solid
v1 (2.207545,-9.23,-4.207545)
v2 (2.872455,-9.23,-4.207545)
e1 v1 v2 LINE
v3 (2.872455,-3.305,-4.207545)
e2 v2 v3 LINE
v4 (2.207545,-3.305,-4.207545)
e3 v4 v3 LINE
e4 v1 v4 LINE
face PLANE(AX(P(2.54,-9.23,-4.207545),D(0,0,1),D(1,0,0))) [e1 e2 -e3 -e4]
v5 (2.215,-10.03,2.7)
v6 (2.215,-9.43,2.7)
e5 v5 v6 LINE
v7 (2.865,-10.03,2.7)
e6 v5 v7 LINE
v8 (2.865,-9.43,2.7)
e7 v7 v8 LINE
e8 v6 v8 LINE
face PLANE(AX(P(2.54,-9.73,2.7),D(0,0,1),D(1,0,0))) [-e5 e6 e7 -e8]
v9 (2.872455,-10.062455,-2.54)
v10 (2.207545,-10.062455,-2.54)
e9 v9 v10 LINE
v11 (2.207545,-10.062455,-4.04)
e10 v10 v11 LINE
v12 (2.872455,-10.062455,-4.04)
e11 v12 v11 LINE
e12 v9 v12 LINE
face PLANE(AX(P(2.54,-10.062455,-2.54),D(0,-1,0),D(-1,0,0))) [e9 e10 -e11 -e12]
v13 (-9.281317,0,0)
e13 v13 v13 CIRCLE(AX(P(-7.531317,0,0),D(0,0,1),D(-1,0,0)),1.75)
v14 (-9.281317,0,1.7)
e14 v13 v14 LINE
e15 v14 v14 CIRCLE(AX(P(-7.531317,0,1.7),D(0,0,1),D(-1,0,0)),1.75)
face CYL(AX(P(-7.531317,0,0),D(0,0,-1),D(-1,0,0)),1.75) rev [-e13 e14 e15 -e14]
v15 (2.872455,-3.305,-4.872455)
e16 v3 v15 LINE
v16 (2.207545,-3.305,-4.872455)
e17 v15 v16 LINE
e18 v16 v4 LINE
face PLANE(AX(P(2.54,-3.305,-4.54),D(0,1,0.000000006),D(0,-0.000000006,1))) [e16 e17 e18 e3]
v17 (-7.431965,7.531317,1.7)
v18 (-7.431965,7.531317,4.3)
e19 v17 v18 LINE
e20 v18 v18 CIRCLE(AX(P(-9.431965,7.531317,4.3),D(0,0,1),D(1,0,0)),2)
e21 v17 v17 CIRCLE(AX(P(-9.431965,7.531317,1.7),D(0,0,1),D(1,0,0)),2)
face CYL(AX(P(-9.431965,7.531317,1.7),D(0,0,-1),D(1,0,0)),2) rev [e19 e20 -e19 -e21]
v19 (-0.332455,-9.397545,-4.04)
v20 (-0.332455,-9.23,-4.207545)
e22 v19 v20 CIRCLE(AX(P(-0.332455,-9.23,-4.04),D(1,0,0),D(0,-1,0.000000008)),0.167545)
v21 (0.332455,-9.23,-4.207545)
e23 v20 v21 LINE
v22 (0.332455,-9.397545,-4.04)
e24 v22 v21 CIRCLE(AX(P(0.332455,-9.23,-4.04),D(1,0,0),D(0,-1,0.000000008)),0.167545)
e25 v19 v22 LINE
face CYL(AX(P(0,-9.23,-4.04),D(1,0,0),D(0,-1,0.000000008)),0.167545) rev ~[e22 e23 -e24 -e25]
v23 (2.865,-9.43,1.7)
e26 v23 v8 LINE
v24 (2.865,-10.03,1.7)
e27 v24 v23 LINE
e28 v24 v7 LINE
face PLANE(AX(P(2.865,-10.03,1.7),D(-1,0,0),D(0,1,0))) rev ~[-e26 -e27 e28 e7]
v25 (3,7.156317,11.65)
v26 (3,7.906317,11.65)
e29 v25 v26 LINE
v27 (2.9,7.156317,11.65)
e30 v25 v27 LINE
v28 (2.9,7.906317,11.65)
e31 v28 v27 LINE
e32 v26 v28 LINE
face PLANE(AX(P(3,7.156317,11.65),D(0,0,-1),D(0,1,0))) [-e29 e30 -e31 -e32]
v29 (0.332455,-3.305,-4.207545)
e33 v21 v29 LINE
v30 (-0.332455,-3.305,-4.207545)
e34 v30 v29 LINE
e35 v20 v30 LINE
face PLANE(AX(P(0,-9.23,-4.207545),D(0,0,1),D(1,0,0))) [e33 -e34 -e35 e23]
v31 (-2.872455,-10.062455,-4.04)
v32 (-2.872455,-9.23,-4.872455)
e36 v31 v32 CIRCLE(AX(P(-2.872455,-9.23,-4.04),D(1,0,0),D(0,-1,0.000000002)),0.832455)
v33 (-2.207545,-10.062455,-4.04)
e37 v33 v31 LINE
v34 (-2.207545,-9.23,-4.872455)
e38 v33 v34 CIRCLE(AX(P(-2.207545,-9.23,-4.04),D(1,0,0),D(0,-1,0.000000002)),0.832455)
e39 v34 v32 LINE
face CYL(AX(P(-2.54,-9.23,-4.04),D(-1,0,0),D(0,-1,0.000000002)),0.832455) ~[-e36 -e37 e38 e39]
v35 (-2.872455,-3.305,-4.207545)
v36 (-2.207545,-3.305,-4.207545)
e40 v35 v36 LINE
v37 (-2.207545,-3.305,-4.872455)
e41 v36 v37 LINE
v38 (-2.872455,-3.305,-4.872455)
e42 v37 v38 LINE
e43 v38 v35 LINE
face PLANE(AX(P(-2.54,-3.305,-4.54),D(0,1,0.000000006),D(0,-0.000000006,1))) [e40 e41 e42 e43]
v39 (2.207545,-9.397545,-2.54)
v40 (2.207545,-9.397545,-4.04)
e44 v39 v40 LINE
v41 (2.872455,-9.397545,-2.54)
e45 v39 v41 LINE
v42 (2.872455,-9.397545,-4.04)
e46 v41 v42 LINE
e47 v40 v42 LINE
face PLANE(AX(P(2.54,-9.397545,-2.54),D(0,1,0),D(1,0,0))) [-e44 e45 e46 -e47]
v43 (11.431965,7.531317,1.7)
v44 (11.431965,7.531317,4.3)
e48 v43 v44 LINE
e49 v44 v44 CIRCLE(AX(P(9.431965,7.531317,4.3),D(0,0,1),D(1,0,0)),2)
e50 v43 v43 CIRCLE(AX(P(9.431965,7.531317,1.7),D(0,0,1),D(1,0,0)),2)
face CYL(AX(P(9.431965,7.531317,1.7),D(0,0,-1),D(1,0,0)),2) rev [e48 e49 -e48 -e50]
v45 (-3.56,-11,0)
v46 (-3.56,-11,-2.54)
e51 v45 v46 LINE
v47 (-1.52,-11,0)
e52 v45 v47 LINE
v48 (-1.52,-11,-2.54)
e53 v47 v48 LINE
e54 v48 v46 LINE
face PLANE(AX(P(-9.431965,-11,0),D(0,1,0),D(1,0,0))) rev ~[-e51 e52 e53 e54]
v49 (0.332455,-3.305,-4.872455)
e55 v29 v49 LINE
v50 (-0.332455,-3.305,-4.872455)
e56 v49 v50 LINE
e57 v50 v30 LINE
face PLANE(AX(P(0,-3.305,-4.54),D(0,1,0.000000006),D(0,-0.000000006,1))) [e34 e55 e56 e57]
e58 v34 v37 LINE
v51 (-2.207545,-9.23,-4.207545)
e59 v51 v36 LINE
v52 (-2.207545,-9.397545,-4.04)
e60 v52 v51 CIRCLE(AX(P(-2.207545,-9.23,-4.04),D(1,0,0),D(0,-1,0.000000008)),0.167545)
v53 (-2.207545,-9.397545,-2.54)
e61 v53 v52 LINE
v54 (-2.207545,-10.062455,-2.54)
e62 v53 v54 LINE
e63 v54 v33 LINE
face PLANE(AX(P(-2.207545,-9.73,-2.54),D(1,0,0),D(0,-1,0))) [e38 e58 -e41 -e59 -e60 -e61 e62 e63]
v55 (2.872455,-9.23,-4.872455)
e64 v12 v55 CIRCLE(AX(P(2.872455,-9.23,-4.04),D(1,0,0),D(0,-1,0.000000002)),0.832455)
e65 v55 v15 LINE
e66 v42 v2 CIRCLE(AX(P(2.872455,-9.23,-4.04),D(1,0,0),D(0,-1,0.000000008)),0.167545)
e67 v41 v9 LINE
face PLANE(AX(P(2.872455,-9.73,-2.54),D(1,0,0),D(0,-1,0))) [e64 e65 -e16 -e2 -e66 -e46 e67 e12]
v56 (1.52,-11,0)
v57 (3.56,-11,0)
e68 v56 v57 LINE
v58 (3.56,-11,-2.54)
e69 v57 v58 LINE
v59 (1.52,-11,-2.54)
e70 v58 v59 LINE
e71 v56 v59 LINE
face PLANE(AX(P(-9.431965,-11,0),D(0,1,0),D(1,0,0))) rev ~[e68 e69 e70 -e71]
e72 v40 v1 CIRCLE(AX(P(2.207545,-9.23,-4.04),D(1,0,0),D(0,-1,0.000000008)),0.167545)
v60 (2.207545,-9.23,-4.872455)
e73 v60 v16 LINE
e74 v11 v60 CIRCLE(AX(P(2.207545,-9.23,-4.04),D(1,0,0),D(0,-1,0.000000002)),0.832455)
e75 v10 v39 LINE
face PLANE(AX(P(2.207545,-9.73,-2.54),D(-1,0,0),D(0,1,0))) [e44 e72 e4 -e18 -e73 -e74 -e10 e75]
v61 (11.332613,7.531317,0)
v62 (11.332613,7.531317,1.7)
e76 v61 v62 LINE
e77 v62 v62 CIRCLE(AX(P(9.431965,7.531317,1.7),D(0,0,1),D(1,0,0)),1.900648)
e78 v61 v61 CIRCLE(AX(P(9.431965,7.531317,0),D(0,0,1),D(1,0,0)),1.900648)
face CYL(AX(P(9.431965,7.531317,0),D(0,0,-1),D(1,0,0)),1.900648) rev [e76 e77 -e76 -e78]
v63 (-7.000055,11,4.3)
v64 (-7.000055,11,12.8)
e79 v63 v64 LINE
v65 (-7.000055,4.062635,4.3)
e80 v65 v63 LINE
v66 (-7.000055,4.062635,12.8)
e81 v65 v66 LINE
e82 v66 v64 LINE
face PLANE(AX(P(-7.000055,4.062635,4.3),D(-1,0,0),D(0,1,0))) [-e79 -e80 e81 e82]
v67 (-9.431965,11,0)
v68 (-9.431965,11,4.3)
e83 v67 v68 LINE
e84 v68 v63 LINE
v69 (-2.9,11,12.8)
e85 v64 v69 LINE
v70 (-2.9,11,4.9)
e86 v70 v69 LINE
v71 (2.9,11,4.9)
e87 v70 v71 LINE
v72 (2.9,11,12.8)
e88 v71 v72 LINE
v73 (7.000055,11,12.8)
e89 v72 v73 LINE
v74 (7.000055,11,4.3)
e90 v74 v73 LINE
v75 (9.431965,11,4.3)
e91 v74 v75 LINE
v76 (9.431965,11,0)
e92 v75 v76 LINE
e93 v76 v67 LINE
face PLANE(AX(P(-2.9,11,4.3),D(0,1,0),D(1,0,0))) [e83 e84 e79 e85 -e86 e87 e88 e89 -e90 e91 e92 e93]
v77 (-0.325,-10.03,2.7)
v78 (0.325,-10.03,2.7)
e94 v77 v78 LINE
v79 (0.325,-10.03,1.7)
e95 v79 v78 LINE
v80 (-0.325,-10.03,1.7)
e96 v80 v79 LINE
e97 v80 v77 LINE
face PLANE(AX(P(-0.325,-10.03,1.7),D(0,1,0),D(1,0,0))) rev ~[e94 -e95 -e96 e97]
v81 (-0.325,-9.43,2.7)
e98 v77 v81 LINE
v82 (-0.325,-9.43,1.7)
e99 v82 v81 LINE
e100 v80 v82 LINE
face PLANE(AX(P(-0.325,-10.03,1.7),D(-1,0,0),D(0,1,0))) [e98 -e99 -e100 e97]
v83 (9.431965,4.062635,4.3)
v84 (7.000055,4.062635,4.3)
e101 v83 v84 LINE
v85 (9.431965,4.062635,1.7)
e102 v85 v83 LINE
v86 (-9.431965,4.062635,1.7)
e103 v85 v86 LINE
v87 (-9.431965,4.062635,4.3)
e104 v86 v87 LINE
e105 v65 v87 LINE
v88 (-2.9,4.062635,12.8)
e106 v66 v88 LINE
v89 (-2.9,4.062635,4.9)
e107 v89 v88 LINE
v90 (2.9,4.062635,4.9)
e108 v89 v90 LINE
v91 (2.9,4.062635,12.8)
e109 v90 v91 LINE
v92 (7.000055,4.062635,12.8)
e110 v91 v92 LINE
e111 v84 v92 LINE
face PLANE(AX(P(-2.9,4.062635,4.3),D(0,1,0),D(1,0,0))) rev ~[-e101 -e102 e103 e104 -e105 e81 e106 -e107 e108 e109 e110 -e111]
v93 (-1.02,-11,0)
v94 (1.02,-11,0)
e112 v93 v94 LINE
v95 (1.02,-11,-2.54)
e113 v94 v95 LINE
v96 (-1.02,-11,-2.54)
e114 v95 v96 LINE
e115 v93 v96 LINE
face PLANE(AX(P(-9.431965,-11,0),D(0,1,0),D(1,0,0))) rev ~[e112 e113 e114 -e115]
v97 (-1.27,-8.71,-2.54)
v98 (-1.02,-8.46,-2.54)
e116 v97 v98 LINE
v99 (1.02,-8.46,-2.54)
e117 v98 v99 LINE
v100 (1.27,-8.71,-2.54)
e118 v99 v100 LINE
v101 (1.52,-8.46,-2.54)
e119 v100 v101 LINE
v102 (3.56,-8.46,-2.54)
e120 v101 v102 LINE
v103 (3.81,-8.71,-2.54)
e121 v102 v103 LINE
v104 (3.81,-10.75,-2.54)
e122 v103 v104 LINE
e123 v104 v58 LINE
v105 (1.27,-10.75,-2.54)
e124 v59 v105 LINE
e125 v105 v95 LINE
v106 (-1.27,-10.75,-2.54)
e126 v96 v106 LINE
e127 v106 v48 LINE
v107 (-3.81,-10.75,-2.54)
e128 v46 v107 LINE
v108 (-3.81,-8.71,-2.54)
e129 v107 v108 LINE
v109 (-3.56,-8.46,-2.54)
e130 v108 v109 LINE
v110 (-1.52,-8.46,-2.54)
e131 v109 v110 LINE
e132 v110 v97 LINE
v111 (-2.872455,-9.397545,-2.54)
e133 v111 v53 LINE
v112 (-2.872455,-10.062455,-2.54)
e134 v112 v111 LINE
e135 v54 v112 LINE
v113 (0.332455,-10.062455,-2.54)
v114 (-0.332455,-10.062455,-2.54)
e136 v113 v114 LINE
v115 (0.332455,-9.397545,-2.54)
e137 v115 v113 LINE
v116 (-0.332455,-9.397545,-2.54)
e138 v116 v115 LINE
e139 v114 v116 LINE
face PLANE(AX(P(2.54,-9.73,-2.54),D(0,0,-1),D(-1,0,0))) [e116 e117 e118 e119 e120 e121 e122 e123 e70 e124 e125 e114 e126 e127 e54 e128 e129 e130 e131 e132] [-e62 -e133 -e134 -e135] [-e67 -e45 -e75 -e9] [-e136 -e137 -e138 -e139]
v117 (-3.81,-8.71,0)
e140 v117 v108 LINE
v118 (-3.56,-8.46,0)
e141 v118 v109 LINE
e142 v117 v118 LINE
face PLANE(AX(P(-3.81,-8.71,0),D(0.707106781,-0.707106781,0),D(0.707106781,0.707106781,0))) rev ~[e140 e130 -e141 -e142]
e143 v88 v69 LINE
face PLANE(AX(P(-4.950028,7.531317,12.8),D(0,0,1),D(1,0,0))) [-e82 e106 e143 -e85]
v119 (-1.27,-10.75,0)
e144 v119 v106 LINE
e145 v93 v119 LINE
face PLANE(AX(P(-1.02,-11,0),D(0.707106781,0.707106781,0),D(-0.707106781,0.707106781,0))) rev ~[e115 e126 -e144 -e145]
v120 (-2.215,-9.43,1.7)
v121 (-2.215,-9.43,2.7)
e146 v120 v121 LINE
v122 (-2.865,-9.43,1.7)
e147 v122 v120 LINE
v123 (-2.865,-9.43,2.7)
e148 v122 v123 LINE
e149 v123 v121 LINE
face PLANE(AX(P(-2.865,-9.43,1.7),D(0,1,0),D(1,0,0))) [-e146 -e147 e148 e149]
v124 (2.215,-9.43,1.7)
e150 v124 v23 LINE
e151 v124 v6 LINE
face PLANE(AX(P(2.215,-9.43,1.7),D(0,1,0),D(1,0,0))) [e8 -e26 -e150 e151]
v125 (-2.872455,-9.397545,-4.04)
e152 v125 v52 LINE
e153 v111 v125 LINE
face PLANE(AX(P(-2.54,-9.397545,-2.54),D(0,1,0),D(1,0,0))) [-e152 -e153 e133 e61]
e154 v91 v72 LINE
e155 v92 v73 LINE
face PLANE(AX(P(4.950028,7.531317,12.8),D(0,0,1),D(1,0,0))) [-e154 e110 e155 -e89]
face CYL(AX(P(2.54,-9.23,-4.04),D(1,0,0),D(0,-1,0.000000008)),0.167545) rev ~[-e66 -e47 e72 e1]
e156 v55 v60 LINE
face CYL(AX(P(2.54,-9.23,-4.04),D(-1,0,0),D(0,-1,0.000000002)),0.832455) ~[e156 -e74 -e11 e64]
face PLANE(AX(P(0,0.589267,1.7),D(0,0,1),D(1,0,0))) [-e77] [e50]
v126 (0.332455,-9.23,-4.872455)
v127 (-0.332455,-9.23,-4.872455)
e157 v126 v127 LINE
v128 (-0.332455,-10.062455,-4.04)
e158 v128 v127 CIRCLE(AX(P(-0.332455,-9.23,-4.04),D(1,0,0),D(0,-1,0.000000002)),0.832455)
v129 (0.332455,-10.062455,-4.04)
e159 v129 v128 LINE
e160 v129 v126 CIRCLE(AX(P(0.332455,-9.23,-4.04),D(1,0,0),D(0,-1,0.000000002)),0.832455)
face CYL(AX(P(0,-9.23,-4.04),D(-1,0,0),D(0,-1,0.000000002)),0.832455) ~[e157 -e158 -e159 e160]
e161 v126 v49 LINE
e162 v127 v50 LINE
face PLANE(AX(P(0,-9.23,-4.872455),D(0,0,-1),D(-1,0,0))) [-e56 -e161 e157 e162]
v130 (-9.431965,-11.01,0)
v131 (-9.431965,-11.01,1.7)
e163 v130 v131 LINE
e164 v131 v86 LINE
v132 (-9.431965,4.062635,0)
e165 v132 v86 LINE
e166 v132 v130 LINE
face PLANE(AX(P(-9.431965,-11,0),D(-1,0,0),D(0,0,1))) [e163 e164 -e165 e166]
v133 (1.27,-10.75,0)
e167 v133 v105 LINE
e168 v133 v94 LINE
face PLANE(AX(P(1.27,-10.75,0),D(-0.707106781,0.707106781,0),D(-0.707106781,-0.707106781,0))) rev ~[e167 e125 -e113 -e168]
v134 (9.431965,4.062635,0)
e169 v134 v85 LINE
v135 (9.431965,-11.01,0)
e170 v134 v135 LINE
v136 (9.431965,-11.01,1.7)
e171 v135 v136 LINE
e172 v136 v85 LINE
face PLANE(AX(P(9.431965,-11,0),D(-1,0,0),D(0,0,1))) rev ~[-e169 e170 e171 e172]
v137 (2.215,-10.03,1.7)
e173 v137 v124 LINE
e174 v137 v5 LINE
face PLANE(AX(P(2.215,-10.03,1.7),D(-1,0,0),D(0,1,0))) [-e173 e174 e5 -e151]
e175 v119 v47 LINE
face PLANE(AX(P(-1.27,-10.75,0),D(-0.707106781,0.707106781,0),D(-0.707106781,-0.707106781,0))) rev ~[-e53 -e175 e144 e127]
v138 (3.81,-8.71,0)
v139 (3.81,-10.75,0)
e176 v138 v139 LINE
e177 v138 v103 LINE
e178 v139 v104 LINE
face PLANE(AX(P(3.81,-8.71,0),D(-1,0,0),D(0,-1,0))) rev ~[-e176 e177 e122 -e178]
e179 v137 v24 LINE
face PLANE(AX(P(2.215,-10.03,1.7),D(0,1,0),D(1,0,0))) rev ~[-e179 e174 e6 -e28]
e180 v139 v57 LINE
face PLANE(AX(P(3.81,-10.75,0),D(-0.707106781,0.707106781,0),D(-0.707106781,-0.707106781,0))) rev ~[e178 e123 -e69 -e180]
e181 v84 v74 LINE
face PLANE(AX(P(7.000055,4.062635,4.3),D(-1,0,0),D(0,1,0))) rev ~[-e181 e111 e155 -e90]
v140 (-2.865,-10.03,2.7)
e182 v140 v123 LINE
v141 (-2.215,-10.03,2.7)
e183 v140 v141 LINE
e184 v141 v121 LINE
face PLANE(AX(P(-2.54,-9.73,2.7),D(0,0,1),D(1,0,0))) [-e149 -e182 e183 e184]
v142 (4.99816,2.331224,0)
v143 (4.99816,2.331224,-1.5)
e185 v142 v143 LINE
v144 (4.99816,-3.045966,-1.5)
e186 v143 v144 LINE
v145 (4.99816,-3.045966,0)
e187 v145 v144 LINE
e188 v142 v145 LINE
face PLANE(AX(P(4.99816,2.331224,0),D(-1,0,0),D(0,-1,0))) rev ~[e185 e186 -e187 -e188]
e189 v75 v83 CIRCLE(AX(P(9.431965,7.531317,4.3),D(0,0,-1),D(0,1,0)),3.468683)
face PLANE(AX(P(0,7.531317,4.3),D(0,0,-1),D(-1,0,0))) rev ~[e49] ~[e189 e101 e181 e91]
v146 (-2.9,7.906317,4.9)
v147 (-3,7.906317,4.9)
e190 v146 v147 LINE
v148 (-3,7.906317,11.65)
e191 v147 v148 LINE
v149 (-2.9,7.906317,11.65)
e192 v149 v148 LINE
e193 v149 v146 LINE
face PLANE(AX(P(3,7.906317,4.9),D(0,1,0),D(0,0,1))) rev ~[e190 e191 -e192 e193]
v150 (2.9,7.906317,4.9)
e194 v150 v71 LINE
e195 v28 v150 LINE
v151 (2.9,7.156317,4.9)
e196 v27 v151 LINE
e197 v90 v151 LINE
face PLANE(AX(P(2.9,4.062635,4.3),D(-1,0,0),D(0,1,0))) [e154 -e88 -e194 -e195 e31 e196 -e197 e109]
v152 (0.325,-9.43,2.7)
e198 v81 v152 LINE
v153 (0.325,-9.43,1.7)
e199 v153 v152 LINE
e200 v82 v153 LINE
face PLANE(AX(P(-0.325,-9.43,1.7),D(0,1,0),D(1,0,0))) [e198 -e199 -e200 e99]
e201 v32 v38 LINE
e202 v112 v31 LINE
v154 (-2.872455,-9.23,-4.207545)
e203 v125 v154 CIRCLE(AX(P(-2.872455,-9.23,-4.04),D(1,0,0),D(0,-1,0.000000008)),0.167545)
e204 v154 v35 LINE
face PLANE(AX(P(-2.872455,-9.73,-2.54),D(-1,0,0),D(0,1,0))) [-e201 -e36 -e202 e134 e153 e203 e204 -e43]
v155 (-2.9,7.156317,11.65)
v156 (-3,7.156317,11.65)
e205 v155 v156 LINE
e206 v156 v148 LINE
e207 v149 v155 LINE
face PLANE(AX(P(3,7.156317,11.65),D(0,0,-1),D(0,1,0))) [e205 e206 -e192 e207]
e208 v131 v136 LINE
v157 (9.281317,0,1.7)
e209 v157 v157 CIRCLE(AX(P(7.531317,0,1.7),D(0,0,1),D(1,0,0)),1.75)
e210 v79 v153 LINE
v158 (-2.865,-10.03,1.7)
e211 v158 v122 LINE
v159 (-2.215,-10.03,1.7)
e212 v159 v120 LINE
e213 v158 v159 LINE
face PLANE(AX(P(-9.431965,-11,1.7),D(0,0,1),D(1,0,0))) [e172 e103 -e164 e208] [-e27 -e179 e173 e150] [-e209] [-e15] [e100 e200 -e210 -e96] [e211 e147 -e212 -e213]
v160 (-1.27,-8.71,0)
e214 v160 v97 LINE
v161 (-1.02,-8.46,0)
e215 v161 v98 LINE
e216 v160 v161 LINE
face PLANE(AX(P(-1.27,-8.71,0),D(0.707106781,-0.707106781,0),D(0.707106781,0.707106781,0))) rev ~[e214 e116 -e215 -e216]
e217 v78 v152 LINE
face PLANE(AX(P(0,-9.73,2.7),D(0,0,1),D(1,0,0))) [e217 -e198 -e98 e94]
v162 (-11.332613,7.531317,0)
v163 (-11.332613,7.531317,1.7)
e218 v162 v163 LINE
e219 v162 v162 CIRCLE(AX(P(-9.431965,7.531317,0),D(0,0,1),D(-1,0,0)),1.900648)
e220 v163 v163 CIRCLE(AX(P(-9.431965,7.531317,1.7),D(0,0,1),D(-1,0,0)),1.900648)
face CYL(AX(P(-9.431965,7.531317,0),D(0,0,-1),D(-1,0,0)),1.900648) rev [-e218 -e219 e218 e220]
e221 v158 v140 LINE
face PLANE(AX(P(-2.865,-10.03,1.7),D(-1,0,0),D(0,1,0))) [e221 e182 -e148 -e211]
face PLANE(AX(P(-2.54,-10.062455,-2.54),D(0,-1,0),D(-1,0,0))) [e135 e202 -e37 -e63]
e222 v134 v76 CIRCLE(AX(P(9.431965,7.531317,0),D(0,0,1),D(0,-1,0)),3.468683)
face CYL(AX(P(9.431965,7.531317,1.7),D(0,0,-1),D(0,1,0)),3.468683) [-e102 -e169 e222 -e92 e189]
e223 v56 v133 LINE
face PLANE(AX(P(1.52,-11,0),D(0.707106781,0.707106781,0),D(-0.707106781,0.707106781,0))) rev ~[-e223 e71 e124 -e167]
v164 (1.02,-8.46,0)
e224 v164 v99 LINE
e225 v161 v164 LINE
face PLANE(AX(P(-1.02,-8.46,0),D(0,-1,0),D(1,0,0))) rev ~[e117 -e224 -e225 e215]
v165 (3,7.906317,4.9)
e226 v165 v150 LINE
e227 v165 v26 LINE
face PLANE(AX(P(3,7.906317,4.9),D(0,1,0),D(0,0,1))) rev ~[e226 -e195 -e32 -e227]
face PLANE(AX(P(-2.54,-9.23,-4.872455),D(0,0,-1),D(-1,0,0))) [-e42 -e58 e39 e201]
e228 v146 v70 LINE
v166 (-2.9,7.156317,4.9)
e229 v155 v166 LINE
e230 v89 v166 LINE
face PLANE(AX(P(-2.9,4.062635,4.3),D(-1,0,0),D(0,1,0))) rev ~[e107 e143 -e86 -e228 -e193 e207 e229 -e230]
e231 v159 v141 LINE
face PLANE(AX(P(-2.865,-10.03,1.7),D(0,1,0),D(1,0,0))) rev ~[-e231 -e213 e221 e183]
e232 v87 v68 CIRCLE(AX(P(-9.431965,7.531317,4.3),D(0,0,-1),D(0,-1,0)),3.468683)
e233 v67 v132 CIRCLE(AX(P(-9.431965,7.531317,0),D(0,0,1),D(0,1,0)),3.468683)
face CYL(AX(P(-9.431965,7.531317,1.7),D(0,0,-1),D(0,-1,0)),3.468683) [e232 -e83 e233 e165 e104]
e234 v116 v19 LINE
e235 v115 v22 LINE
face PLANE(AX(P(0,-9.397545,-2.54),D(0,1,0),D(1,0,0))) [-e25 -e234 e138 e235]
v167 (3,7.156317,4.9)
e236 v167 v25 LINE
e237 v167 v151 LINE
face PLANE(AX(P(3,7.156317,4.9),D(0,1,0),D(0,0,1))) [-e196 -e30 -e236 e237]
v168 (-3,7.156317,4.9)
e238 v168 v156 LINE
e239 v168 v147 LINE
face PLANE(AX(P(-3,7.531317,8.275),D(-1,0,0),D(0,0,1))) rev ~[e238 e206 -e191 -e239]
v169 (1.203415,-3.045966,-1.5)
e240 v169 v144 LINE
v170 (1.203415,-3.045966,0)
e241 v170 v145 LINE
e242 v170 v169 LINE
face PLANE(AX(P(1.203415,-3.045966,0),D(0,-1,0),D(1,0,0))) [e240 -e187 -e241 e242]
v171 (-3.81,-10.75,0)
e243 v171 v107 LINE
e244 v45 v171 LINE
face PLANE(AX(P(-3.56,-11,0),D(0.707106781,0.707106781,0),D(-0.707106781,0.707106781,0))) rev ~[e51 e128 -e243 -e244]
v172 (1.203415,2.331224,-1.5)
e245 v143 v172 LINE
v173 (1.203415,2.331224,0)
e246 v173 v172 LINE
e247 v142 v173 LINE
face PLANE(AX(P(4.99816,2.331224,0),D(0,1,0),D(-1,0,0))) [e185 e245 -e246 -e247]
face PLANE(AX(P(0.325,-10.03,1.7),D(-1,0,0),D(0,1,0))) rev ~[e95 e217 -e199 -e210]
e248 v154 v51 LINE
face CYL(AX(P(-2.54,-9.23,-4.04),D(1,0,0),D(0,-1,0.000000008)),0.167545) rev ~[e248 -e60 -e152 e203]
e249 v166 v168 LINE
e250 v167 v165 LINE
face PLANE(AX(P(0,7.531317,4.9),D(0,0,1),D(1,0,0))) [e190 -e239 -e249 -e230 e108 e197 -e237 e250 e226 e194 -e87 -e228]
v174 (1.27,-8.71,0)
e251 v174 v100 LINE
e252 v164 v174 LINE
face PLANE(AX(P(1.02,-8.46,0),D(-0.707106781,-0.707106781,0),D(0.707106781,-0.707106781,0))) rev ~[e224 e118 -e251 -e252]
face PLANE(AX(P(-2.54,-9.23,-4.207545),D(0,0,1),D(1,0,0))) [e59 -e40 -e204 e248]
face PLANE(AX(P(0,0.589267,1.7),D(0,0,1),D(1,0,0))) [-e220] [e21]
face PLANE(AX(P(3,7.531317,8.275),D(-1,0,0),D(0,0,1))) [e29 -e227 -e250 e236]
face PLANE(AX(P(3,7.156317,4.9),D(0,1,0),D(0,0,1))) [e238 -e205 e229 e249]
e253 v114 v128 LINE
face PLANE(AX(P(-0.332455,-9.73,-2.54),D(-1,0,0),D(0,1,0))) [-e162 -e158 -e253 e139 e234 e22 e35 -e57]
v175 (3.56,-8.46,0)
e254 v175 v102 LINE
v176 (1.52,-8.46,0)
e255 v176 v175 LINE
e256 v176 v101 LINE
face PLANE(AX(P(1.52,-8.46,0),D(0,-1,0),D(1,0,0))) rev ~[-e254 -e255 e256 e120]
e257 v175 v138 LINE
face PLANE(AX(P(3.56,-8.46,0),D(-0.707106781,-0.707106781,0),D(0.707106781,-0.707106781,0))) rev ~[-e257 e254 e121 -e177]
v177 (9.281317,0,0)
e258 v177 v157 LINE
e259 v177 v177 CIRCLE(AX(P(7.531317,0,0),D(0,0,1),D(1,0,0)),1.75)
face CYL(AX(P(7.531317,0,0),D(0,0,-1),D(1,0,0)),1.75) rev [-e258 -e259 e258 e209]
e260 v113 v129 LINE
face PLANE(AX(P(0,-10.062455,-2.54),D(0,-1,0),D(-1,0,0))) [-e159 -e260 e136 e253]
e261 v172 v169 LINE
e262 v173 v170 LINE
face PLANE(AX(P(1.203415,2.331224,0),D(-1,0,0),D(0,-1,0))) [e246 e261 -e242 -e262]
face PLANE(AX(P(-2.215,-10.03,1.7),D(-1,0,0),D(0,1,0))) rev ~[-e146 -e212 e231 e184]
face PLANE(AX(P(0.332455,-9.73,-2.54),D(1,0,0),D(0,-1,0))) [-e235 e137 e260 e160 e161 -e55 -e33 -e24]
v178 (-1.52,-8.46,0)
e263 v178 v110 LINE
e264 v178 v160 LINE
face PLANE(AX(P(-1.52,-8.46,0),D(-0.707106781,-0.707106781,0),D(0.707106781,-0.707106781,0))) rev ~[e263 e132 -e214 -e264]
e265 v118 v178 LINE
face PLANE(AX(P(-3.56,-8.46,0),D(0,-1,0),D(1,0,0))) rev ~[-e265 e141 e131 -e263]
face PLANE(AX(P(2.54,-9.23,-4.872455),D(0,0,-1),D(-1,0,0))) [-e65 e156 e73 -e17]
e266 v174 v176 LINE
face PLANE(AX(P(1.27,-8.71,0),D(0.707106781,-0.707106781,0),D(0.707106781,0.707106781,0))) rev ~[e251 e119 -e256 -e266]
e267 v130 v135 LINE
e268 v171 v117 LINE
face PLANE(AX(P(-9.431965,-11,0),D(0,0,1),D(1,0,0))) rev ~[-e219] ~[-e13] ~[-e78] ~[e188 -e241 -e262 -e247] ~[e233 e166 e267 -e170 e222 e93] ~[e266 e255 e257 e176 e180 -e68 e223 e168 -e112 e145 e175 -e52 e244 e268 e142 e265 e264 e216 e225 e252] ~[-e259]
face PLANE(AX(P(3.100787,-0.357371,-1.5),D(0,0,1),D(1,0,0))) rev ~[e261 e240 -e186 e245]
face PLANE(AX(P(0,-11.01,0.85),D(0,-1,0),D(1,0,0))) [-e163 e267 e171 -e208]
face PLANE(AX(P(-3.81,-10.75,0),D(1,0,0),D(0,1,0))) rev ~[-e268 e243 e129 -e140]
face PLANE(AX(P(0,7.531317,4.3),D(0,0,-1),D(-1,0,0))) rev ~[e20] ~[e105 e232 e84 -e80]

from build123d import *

# Parameters (mm, degrees)
IZIM1_R                     = 1.900647948
IZIM1_R_2                   = 1.75
Y_KSEKLIK_EKSTR_ZYON1_DEPTH = 1.7
IZIM2_R                     = 2
Y_KSEKLIK_EKSTR_ZYON2_DEPTH = 2.6
IZIM3_W                     = 4.100055298
IZIM3_H                     = 6.937365011
Y_KSEKLIK_EKSTR_ZYON3_DEPTH = 8.5
IZIM4_W                     = 5.8
IZIM4_H                     = 6.937365011
Y_KSEKLIK_EKSTR_ZYON4_DEPTH = 0.6
Y_KSEKLIK_EKSTR_ZYON6_DEPTH = 2.54
IZIM6_W                     = 18.863930886
IZIM6_H                     = 1.7
Y_KSEKLIK_EKSTR_ZYON7_DEPTH = 0.01
KES_EKSTR_ZYON1_DEPTH       = 5.9
KES_EKSTR_ZYON1_DEPTH_BACK  = 0.1
IZIM7_W                     = 6.75
IZIM7_H                     = 0.75
IZIM8_W                     = 0.664910116
IZIM8_H                     = 0.664910116
IZIM11_W                    = 0.65
IZIM11_H                    = 0.6
Y_KSEKLIK_EKSTR_ZYON8_DEPTH = 1
Y_KSEKLIK_EKSTR_ZYON9_DEPTH = 1.5


with BuildPart() as part:
    # Çizim1 → Yükseklik-Ekstrüzyon1 (new body)
    with BuildSketch(Plane.XY):
        with BuildLine():
            Line((-9.431965443, -11), (9.431965443, -11))
            Line((9.431965443, -11), (9.431965443, 4.062634989))
            ThreePointArc((9.431965443, 4.062634989), (12.900647948, 7.531317495), (9.431965443, 11))
            Line((9.431965443, 11), (-9.431965443, 11))
            ThreePointArc((-9.431965443, 11), (-12.900647948, 7.531317495), (-9.431965443, 4.062634989))
            Line((-9.431965443, 4.062634989), (-9.431965443, -11))
        make_face()
        with Locations((9.431965443, 7.531317495)):
            Circle(IZIM1_R, mode=Mode.SUBTRACT)
        with Locations(Location((-9.431965443, 7.531317495, 0), (0, 0, 180))):
            Circle(IZIM1_R, mode=Mode.SUBTRACT)
        with Locations((7.531317495, 0)):
            Circle(IZIM1_R_2, mode=Mode.SUBTRACT)
        with Locations(Location((-7.531317495, 0, 0), (0, 0, 180))):
            Circle(IZIM1_R_2, mode=Mode.SUBTRACT)
    extrude(amount=Y_KSEKLIK_EKSTR_ZYON1_DEPTH)

    # Çizim2 → Yükseklik-Ekstrüzyon2 (add)
    with BuildSketch(Plane.XY.offset(1.7)):
        with BuildLine():
            Line((-9.431965443, 11), (9.431965443, 11))
            ThreePointArc((9.431965443, 11), (12.900647948, 7.531317495), (9.431965443, 4.062634989))
            Line((9.431965443, 4.062634989), (-9.431965443, 4.062634989))
            ThreePointArc((-9.431965443, 4.062634989), (-12.900647948, 7.531317495), (-9.431965443, 11))
        make_face()
        with Locations((-9.431965443, 7.531317495)):
            Circle(IZIM2_R, mode=Mode.SUBTRACT)
        with Locations((9.431965443, 7.531317495)):
            Circle(IZIM2_R, mode=Mode.SUBTRACT)
    extrude(amount=Y_KSEKLIK_EKSTR_ZYON2_DEPTH)

    # Çizim3 → Yükseklik-Ekstrüzyon3 (add)
    with BuildSketch(Plane.XY.offset(4.3)):
        with Locations((4.950027649, 7.531317494)):
            Rectangle(IZIM3_W, IZIM3_H)
        with Locations((-4.950027649, 7.531317494)):
            Rectangle(IZIM3_W, IZIM3_H)
    extrude(amount=Y_KSEKLIK_EKSTR_ZYON3_DEPTH)

    # Çizim4 → Yükseklik-Ekstrüzyon4 (add)
    with BuildSketch(Plane.XY.offset(4.3)):
        with Locations((0, 7.531317494)):
            Rectangle(IZIM4_W, IZIM4_H)
    extrude(amount=Y_KSEKLIK_EKSTR_ZYON4_DEPTH)

    # Çizim5 → Yükseklik-Ekstrüzyon6 (add)
    with BuildSketch(Plane(origin=(0, 0, 0), x_dir=(-1, 0, 0), z_dir=(0, 0, -1))):
        Polygon((-1.27, -10.75), (-1.27, -8.71), (-1.52, -8.46), (-3.56, -8.46), (-3.81, -8.71), (-3.81, -10.75), (-3.56, -11), (-1.52, -11), align=None)
        Polygon((1.27, -8.71), (1.02, -8.46), (-1.02, -8.46), (-1.27, -8.71), (-1.27, -10.75), (-1.02, -11), (1.02, -11), (1.27, -10.75), align=None)
        Polygon((1.52, -8.46), (1.27, -8.71), (1.27, -10.75), (1.52, -11), (3.56, -11), (3.81, -10.75), (3.81, -8.71), (3.56, -8.46), align=None)
    extrude(amount=Y_KSEKLIK_EKSTR_ZYON6_DEPTH)

    # Çizim6 → Yükseklik-Ekstrüzyon7 (add)
    with BuildSketch(Plane.XZ.offset(11)):
        with Locations((0, 0.85)):
            Rectangle(IZIM6_W, IZIM6_H)
    extrude(amount=Y_KSEKLIK_EKSTR_ZYON7_DEPTH)

    # Çizim7 → Kes-Ekstrüzyon1 (cut, two sides: drawn at the far end of the back side and taken through both)
    with BuildSketch(Plane.ZY.offset(-2.9).offset(-KES_EKSTR_ZYON1_DEPTH_BACK)):
        with Locations((8.275, 7.531317495)):
            Rectangle(IZIM7_W, IZIM7_H)
    extrude(amount=KES_EKSTR_ZYON1_DEPTH + KES_EKSTR_ZYON1_DEPTH_BACK, mode=Mode.SUBTRACT)

    # Süpür1: sweep along a path in Çizim9
    with BuildLine(Plane(origin=(0, 0, 0), x_dir=(0, 0, -1), z_dir=(1, 0, 0))) as s_p_r1_path:
        Line((2.54, -9.73), (4.04, -9.73))
        ThreePointArc((4.04, -9.73), (4.393553391, -9.583553391), (4.54, -9.23))
        Line((4.54, -9.23), (4.54, -3.305))
    # Çizim8 → Süpür1 (sweep)
    with BuildSketch(Plane(origin=(0, 0, -2.54), x_dir=(-1, 0, 0), z_dir=(0, 0, -1))):
        with Locations((2.54, -9.73)):
            Rectangle(IZIM8_W, IZIM8_H)
        with Locations((0, -9.73)):
            Rectangle(IZIM8_W, IZIM8_H)
        with Locations((-2.54, -9.73)):
            Rectangle(IZIM8_W, IZIM8_H)
    sweep(path=s_p_r1_path.line)

    # Çizim11 → Yükseklik-Ekstrüzyon8 (add)
    with BuildSketch(Plane.XY.offset(1.7)):
        with Locations((-2.54, -9.73)):
            Rectangle(IZIM11_W, IZIM11_H)
        with Locations((0, -9.73)):
            Rectangle(IZIM11_W, IZIM11_H)
        with Locations((2.54, -9.73)):
            Rectangle(IZIM11_W, IZIM11_H)
    extrude(amount=Y_KSEKLIK_EKSTR_ZYON8_DEPTH)

    # Çizim12 → Yükseklik-Ekstrüzyon9 (add)
    with BuildSketch(Plane(origin=(0, 0, 0), x_dir=(-1, 0, 0), z_dir=(0, 0, -1))):
        Polygon((-4.998159683, 0), (-4.998159683, 2.331223734), (-1.20341454, 2.331223734), (-1.20341454, -3.045965908), (-4.998159683, -3.045965908), align=None)
    extrude(amount=Y_KSEKLIK_EKSTR_ZYON9_DEPTH)


solid = part.part
